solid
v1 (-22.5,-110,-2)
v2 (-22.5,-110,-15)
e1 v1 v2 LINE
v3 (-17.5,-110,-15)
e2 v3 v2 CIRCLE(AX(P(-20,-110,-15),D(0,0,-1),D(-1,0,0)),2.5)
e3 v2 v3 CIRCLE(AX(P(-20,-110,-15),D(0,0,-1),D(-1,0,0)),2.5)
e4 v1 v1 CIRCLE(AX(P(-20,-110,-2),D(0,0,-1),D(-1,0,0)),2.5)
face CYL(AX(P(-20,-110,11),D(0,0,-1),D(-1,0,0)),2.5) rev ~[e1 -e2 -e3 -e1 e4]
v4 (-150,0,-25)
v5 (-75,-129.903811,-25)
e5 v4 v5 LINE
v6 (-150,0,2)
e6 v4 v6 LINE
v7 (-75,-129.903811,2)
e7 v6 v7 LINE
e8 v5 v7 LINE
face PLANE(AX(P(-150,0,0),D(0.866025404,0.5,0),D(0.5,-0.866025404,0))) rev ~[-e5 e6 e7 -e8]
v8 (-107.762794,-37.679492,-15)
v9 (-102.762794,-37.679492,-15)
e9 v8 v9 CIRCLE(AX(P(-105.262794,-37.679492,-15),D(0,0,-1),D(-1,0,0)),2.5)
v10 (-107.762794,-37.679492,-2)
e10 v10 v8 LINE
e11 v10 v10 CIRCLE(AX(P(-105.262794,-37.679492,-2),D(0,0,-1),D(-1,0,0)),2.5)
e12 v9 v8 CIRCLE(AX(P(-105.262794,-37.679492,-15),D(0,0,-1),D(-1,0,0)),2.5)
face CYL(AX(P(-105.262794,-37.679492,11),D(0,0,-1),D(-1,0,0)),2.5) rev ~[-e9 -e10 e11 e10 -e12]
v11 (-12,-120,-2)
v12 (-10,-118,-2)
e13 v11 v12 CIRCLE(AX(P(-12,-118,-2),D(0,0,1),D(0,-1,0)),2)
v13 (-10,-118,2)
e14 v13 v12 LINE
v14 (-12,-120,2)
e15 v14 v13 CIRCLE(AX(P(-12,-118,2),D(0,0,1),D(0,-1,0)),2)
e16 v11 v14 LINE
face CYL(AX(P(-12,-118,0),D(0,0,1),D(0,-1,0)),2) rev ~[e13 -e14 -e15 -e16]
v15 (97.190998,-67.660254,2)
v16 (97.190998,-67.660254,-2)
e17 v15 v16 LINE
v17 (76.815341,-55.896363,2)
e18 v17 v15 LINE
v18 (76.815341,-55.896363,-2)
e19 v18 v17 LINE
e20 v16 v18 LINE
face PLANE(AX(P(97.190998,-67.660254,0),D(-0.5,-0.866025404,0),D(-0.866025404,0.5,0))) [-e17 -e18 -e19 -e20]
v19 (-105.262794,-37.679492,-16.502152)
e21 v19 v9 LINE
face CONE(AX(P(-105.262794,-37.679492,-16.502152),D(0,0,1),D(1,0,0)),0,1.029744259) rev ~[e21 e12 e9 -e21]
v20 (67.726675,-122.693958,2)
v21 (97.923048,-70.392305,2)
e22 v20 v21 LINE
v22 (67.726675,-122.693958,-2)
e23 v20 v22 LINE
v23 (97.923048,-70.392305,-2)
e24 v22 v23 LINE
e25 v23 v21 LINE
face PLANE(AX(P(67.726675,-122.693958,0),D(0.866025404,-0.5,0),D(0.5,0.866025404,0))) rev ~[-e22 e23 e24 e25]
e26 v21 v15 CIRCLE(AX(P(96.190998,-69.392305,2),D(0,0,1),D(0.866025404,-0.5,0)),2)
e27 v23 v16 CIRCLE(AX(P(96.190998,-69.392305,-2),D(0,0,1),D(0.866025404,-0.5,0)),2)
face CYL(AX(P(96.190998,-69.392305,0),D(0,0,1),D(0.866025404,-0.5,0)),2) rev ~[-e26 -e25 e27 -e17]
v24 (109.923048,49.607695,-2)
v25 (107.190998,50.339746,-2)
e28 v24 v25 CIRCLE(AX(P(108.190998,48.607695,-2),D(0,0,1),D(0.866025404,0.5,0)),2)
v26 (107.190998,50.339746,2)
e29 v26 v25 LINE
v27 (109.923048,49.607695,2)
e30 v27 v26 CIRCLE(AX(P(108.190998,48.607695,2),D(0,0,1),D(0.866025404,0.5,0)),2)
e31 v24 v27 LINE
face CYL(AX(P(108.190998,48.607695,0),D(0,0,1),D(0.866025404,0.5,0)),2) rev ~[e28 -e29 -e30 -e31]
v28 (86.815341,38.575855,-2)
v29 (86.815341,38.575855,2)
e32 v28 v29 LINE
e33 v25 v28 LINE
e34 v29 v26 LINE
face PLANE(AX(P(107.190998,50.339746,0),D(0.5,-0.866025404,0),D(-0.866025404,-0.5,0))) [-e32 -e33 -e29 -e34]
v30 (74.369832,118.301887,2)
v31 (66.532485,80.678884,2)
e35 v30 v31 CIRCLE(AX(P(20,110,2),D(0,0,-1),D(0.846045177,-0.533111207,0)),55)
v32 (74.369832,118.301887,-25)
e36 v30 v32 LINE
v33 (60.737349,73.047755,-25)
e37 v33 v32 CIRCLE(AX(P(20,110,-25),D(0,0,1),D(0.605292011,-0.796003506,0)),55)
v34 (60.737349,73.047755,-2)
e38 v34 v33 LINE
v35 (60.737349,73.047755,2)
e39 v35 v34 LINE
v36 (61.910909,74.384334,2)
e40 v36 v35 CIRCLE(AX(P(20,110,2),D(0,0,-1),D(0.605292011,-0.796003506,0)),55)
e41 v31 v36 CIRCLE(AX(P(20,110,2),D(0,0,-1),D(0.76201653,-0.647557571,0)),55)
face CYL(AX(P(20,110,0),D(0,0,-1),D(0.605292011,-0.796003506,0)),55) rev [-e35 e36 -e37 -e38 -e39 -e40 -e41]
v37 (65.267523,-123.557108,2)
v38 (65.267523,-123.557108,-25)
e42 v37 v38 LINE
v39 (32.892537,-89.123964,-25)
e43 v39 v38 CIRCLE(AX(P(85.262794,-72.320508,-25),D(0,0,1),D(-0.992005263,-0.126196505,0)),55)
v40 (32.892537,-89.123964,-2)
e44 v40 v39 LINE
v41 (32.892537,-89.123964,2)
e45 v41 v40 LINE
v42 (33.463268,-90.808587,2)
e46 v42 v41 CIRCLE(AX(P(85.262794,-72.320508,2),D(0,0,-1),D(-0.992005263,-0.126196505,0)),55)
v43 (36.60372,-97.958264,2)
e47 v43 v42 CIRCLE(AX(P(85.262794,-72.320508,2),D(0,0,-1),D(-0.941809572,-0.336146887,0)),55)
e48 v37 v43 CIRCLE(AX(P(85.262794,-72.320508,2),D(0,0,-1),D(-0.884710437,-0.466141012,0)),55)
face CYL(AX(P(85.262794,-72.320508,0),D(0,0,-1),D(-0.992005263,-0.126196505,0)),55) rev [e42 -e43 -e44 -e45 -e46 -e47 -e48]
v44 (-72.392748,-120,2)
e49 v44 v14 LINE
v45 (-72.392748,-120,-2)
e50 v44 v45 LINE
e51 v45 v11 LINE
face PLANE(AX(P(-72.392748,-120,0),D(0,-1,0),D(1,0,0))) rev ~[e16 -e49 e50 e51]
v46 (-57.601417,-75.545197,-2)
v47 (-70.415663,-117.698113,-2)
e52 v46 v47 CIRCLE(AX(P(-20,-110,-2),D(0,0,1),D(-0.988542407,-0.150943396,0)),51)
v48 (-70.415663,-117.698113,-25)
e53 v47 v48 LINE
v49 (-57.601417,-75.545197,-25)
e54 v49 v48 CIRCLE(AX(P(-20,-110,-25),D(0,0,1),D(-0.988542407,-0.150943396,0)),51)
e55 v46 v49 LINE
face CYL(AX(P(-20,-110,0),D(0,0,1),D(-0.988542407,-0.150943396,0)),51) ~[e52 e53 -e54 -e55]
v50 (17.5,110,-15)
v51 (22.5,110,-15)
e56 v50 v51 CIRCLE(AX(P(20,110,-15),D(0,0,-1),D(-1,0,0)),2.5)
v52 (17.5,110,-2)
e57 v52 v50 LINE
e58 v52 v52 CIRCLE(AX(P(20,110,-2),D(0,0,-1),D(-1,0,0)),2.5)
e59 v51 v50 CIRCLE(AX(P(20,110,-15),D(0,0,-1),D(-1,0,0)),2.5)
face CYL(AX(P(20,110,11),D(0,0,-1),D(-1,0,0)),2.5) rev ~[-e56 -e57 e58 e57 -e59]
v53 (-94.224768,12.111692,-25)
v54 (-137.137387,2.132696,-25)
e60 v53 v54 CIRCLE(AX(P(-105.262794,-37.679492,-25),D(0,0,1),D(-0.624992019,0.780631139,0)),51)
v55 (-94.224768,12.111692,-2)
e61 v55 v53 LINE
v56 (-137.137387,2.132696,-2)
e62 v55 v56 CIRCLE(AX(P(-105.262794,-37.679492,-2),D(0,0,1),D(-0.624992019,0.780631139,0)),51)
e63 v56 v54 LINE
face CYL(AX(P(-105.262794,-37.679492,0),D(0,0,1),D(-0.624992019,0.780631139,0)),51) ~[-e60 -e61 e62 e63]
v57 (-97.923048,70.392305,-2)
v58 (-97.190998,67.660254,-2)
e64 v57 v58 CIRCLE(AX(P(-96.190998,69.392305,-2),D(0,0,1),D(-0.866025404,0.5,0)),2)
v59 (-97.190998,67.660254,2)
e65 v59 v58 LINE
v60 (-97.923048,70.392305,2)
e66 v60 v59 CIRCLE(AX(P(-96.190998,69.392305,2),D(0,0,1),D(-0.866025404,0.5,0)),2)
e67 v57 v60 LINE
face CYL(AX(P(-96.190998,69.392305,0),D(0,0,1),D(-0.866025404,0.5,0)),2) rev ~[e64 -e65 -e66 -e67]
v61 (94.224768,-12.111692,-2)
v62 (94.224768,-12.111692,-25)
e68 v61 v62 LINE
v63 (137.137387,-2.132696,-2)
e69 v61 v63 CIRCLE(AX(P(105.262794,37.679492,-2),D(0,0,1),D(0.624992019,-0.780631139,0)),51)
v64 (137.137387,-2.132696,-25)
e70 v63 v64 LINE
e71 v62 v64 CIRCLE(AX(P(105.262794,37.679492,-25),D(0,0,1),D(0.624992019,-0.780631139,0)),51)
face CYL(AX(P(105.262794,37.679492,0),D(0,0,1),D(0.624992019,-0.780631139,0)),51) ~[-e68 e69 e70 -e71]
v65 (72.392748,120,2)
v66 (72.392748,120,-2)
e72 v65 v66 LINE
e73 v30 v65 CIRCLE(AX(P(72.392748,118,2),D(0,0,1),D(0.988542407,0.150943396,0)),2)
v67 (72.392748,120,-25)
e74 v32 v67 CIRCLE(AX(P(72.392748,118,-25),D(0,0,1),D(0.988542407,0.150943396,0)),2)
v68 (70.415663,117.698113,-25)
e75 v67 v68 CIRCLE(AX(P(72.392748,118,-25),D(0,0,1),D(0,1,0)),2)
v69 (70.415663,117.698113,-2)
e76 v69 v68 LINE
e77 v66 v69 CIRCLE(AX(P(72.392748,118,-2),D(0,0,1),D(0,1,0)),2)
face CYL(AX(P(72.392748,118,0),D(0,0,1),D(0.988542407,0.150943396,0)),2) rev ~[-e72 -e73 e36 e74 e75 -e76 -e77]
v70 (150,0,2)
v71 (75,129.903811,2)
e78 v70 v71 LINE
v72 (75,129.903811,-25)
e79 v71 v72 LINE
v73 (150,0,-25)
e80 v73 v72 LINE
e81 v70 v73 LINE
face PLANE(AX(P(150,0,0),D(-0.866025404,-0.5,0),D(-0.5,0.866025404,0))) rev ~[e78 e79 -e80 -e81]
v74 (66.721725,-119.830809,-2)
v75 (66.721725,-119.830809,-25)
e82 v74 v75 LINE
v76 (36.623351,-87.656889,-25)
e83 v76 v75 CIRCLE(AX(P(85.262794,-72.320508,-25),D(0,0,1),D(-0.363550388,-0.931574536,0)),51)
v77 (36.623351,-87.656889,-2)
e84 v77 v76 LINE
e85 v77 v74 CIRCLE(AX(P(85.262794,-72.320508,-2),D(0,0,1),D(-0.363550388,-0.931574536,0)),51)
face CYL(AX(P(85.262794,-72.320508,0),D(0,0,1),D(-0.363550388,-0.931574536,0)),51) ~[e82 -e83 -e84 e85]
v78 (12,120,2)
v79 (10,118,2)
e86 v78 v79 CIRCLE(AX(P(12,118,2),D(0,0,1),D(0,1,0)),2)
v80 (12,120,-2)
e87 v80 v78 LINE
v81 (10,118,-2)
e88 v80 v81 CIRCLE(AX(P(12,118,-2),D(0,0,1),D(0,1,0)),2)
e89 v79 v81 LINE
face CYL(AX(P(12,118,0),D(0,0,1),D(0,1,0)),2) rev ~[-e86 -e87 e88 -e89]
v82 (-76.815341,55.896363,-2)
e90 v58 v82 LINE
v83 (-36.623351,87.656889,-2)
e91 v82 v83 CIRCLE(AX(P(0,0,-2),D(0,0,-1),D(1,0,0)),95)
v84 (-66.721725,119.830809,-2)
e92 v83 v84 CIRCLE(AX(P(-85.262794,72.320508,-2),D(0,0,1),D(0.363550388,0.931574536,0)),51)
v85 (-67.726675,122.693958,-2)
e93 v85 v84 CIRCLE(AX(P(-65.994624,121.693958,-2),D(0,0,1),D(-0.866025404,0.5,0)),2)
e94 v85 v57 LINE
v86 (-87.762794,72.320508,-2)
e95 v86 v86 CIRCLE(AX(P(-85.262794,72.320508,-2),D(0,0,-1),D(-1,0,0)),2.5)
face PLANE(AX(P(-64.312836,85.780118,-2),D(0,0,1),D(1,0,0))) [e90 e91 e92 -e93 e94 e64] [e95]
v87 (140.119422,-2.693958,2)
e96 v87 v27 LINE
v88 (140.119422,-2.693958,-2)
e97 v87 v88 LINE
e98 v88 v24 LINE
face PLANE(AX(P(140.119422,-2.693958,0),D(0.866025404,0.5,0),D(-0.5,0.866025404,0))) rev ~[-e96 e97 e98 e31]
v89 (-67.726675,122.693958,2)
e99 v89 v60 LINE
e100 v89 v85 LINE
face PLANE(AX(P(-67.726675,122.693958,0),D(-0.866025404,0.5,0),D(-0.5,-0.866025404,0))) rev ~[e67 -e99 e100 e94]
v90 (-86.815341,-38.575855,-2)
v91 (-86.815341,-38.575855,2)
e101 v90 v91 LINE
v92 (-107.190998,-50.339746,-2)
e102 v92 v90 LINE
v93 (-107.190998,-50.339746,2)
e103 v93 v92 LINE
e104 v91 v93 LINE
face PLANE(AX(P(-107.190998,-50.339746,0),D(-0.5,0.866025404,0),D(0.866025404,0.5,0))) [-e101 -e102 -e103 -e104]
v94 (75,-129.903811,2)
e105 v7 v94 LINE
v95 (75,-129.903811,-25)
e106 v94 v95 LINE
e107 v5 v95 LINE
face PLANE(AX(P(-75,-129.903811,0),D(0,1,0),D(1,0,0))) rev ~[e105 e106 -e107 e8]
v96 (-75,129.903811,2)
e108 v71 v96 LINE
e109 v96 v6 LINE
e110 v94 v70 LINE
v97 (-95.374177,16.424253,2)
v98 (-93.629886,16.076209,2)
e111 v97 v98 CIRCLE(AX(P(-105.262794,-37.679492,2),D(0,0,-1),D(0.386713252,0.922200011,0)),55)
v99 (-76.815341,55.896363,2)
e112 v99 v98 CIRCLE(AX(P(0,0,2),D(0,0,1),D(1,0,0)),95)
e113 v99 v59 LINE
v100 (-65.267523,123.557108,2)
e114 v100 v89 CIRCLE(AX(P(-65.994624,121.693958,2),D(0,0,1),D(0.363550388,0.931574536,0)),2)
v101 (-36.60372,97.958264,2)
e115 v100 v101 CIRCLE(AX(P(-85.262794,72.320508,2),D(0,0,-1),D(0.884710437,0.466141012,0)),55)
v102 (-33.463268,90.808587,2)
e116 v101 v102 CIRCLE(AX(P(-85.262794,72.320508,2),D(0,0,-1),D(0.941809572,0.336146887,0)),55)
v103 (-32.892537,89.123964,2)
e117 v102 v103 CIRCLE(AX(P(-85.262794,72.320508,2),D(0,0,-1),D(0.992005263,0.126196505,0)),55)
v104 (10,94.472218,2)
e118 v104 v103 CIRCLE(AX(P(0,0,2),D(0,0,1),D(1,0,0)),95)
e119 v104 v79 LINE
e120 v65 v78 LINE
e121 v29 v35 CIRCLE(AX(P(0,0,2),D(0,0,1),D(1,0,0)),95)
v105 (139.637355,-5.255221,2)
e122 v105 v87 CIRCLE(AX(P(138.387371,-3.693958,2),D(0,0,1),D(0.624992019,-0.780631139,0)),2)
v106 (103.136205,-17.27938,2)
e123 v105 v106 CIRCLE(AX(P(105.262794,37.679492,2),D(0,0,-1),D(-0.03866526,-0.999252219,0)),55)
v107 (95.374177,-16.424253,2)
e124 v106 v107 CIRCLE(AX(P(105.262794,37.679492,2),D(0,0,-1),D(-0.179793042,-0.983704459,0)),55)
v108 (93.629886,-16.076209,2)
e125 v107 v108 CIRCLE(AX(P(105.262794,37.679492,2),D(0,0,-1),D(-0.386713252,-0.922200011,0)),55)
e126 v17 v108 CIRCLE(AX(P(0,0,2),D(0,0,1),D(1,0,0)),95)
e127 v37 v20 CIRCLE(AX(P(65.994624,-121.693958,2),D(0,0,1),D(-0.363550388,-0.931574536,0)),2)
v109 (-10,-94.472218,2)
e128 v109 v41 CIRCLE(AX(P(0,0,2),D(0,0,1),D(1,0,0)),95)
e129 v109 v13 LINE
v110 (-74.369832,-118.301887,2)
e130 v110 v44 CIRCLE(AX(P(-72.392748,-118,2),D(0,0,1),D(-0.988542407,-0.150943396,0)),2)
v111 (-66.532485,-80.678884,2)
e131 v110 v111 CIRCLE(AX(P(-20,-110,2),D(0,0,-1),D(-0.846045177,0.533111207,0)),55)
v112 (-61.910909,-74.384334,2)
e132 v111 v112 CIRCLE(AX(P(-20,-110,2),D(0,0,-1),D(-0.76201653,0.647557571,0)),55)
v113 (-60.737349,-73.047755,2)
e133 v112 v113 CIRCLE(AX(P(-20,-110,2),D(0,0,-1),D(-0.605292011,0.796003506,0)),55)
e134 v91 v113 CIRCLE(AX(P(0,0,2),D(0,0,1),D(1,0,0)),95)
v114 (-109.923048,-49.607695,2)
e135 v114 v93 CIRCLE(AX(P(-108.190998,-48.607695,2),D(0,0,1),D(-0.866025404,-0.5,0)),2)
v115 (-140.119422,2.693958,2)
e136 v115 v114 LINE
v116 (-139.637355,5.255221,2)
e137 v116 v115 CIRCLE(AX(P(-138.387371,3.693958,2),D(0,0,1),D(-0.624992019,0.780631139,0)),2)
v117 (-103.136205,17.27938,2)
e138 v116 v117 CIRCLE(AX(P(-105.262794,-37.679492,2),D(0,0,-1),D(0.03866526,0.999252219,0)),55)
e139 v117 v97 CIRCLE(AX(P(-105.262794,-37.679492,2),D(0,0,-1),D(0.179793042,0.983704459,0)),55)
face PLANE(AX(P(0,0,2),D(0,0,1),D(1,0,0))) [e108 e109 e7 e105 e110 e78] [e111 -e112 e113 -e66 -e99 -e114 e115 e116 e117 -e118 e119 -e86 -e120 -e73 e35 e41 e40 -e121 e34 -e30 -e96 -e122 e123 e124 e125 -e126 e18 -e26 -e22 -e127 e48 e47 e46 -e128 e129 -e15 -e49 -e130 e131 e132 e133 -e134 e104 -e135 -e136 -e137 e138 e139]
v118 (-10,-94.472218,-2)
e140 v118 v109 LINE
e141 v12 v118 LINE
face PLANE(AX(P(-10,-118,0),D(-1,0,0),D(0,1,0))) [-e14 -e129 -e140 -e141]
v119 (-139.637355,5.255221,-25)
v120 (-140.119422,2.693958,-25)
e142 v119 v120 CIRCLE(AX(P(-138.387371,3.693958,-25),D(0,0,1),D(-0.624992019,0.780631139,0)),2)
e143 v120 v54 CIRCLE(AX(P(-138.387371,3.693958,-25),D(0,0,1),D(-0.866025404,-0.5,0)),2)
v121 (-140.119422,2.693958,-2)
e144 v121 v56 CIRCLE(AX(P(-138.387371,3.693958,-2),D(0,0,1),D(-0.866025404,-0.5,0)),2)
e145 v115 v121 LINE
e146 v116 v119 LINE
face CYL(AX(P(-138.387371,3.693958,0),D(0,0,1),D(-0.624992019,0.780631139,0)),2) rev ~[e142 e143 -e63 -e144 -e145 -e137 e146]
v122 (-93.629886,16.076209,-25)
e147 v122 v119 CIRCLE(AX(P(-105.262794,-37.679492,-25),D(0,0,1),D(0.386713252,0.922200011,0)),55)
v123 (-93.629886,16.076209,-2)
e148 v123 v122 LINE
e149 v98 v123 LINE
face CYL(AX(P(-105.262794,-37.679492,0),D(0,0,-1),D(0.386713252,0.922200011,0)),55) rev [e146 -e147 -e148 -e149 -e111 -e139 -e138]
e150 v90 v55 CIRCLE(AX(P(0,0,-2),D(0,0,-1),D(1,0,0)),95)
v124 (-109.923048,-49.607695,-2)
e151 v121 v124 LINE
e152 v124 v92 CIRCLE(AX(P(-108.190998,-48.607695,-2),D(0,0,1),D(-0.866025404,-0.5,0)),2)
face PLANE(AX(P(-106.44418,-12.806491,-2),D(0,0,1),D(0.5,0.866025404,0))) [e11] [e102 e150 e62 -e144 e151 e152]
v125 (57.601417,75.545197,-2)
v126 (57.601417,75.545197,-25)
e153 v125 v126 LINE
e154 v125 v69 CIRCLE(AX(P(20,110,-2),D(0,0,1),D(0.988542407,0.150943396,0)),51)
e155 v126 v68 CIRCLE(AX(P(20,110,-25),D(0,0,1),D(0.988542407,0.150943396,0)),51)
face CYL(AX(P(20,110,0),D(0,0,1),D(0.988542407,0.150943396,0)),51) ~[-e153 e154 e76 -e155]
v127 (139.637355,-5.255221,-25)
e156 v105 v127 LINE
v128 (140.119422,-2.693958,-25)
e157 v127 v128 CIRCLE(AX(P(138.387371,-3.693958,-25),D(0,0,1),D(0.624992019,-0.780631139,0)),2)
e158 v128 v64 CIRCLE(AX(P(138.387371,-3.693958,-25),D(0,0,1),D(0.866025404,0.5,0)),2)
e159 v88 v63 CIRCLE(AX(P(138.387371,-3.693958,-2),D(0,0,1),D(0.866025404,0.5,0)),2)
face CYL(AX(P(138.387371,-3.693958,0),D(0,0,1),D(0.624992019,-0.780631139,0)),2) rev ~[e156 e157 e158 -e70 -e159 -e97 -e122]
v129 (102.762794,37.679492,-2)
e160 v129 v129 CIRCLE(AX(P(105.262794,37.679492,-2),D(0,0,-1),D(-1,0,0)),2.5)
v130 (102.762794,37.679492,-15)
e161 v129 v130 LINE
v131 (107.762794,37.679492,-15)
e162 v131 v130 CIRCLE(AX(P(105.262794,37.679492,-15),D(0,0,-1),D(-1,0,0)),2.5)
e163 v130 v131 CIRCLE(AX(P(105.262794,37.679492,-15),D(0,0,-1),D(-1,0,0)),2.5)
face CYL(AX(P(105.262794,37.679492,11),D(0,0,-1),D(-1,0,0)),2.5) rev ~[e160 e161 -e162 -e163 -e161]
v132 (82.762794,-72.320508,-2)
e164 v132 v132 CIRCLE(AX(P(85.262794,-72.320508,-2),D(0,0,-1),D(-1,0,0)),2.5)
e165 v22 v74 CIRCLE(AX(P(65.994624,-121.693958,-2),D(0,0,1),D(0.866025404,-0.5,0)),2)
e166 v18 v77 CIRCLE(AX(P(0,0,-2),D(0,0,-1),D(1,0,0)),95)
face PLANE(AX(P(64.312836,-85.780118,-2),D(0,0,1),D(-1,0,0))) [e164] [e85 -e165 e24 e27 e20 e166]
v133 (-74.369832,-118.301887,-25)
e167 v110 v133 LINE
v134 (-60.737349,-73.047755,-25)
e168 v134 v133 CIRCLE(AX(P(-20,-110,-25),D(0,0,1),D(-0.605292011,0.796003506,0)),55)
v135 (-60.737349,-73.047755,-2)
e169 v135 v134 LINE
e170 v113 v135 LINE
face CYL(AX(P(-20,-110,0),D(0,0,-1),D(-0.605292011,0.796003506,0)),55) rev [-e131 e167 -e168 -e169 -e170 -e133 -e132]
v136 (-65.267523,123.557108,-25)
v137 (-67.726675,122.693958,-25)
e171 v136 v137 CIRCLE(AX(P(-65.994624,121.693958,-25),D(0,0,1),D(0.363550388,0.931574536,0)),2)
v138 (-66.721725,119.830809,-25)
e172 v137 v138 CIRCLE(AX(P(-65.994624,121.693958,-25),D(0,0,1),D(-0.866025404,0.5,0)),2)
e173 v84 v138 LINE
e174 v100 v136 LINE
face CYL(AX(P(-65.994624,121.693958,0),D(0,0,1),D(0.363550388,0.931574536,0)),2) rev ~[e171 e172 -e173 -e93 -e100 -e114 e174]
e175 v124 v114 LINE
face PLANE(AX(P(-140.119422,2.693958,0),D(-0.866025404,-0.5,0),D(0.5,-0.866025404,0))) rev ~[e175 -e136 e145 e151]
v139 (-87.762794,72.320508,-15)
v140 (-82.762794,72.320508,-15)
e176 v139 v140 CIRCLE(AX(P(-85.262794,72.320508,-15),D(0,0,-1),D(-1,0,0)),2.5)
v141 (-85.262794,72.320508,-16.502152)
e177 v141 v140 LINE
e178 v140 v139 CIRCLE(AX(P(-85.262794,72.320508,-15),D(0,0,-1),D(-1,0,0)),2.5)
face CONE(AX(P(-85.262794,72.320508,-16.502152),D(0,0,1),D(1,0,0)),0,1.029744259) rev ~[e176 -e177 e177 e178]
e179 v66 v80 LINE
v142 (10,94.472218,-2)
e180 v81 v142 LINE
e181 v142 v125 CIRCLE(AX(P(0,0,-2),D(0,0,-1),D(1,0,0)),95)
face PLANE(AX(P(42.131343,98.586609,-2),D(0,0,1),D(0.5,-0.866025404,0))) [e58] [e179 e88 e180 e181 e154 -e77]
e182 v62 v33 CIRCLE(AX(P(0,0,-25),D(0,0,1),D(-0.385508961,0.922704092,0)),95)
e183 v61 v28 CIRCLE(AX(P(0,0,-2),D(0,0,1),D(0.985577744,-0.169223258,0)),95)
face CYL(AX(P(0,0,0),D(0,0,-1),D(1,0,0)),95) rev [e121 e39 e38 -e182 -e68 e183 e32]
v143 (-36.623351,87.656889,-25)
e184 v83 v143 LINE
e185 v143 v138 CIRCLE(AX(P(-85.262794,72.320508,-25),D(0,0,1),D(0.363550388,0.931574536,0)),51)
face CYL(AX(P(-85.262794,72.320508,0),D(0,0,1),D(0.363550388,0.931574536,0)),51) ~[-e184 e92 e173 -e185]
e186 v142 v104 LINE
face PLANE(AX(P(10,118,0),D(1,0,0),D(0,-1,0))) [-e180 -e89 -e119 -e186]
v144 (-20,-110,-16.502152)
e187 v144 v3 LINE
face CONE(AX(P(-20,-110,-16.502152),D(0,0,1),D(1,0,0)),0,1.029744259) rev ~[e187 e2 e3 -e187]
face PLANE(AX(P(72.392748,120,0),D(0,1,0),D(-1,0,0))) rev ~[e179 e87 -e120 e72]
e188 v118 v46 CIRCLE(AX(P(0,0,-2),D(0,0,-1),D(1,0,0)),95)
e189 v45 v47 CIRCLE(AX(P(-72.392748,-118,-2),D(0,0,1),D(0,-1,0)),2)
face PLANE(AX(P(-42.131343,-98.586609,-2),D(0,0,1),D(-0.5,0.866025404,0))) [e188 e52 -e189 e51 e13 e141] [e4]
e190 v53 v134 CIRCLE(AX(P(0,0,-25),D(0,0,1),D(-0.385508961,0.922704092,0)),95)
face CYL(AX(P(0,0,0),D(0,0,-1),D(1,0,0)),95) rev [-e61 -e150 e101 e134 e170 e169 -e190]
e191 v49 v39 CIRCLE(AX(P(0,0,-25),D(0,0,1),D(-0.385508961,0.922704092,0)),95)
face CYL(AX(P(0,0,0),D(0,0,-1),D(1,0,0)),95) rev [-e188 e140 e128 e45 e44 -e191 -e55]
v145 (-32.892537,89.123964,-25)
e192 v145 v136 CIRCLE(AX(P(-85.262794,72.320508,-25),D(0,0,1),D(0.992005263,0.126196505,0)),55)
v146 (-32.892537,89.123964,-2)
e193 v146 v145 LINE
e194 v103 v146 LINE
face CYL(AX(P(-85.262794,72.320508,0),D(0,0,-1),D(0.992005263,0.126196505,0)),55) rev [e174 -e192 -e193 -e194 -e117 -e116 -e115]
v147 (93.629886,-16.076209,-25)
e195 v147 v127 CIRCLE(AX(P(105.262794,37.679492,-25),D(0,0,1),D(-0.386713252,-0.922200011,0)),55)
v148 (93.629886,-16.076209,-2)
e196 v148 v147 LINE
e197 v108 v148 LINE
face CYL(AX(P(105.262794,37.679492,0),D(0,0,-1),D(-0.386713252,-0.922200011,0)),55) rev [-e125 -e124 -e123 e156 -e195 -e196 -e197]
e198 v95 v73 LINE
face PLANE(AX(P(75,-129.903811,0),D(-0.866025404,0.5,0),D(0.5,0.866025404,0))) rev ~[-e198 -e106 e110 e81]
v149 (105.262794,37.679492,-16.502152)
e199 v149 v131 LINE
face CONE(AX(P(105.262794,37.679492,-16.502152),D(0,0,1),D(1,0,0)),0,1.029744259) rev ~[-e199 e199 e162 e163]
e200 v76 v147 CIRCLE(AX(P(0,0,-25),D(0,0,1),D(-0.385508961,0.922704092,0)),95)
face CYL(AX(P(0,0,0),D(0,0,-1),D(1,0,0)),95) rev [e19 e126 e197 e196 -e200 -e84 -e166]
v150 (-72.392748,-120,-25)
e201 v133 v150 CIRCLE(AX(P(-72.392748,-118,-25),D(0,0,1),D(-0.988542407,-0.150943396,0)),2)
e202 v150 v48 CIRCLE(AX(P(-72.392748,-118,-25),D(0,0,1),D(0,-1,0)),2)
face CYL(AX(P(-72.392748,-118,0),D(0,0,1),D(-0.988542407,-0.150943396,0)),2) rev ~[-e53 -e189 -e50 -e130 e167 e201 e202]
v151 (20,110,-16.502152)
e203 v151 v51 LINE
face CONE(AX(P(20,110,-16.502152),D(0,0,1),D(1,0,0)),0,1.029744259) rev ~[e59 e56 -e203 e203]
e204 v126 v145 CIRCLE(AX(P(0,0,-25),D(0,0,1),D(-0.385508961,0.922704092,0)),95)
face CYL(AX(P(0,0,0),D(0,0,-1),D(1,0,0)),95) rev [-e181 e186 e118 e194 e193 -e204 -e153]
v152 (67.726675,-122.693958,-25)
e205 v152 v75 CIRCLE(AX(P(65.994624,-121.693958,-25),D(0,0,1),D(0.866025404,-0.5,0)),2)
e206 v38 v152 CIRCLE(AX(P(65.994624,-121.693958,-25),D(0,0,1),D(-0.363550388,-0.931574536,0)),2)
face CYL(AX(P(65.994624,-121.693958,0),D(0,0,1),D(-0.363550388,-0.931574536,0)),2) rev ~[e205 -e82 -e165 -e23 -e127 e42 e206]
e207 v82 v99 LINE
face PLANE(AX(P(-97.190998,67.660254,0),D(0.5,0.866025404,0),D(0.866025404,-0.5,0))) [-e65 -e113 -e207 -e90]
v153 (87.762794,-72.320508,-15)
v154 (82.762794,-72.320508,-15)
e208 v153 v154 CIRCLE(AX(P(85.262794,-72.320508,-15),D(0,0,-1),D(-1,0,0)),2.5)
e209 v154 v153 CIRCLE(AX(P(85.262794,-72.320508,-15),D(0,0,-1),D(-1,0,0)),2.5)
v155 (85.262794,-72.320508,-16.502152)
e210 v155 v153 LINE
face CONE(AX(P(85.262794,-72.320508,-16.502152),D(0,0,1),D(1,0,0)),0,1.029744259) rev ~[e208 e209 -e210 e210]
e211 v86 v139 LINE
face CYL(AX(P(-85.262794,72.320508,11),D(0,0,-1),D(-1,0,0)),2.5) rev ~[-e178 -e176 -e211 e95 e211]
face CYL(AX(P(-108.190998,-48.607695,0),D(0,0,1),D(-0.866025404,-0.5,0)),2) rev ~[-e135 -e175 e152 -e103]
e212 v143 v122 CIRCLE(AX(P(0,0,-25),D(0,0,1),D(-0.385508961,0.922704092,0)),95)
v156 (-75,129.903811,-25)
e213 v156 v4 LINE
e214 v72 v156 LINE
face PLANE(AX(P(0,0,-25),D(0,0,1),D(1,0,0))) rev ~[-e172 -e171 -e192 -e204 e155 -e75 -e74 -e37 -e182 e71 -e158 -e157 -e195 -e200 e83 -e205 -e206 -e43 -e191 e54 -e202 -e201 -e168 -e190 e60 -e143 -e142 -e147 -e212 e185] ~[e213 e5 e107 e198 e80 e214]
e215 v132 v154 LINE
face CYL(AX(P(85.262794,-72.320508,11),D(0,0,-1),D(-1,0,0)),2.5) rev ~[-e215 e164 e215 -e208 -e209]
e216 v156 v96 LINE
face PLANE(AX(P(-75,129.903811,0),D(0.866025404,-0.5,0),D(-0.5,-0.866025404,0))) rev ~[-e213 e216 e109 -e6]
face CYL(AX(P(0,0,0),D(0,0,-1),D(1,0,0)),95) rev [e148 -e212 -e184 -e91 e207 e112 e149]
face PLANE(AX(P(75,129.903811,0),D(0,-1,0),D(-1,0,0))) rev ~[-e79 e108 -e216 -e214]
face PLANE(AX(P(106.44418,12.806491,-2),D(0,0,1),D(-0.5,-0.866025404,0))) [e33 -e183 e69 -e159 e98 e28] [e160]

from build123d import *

# Parameters (mm, degrees)
F0_R          = 95
F1_DEPTH      = 25
F1_DEPTH_BACK = 2
F4_DEPTH      = 25
F4_DEPTH_BACK = 2
F5_COUNT      = 6
F8_DEPTH      = 10
F8_DEPTH_BACK = 35
F9_COUNT      = 6
F11_D         = 5
F11_DEPTH     = 13
F11_START     = 2
F11_TIP       = 1.5021515476


with BuildPart() as f1:
    # F0 (on Top) → F1 (new body, two sides)
    with BuildSketch(Plane.XY) as f1_sk:
        Polygon((75, 129.9038105677), (-75, 129.9038105677), (-150, 0), (-75, -129.9038105677), (75, -129.9038105677), (150, 0), align=None)
        Circle(F0_R, mode=Mode.SUBTRACT)
    extrude(amount=-F1_DEPTH)
    extrude(f1_sk.sketch, amount=F1_DEPTH_BACK)


with BuildPart() as f4:
    # F2 (on Top) → F4 (new body, two sides)
    with BuildSketch(Plane.XY) as f4_sk:
        with BuildLine():
            Line((-67.7266746593, 122.6939584625), (-97.9230484541, 70.3923048454))
            ThreePointArc((-97.9230484541, 70.3923048454), (-98.1228492991, 68.8746667552), (-97.1909976466, 67.6602540378))
            Line((-97.1909976466, 67.6602540378), (-68.1009575861, 50.8651115782))
            ThreePointArc((-68.1009575861, 50.8651115782), (-51.4015287339, 67.6969928713), (-30.7025049427, 79.2613158498))
            ThreePointArc((-30.7025049427, 79.2613158498), (-31.770388613, 85.1096644737), (-33.4632679534, 90.8085868892))
            ThreePointArc((-33.4632679534, 90.8085868892), (-34.9064435535, 94.4392315422), (-36.6037204033, 97.9582637535))
            ThreePointArc((-36.6037204033, 97.9582637535), (-48.6270197595, 113.3426973797), (-65.2675230757, 123.5571075336))
            ThreePointArc((-65.2675230757, 123.5571075336), (-66.656996648, 123.5810891624), (-67.7266746593, 122.6939584625))
        make_face()
    extrude(amount=F4_DEPTH)
    extrude(f4_sk.sketch, amount=-F4_DEPTH_BACK)


with BuildPart() as f5_1:
    # F5: instance of F4
    add(f4.part.rotate(Axis((0, 0, -0.1854561269), (0, 0, 1)), 1 * 360 / F5_COUNT))


with BuildPart() as f5_2:
    # F5: instance of F4
    add(f4.part.rotate(Axis((0, 0, -0.1854561269), (0, 0, 1)), 2 * 360 / F5_COUNT))


with BuildPart() as f5_3:
    # F5: instance of F4
    add(f4.part.rotate(Axis((0, 0, -0.1854561269), (0, 0, 1)), 3 * 360 / F5_COUNT))


with BuildPart() as f5_4:
    # F5: instance of F4
    add(f4.part.rotate(Axis((0, 0, -0.1854561269), (0, 0, 1)), 4 * 360 / F5_COUNT))


with BuildPart() as f5_5:
    # F5: instance of F4
    add(f4.part.rotate(Axis((0, 0, -0.1854561269), (0, 0, 1)), 5 * 360 / F5_COUNT))


with BuildPart() as f1_1:
    add(f1.part)

    # F6: cut F5_1, F4, F5_5, F5_4, F5_3, F5_2
    add(f5_1.part, mode=Mode.SUBTRACT)
    add(f4.part, mode=Mode.SUBTRACT)
    add(f5_5.part, mode=Mode.SUBTRACT)
    add(f5_4.part, mode=Mode.SUBTRACT)
    add(f5_3.part, mode=Mode.SUBTRACT)
    add(f5_2.part, mode=Mode.SUBTRACT)


with BuildPart() as f8:
    # F7 (on face) → F8 (new body, two sides)
    with BuildSketch(Plane.XY) as f8_sk:
        with BuildLine():
            ThreePointArc((-66.7217246277, 119.8308093913), (-44.7195832857, 103.2599332678), (-34.5435296861, 77.6643068393))
            ThreePointArc((-34.5435296861, 77.6643068393), (-32.6327882373, 78.4863117484), (-30.7025049427, 79.2613158498))
            ThreePointArc((-30.7025049427, 79.2613158498), (-41.9019572207, 106.1559598637), (-65.2675230757, 123.5571075336))
            ThreePointArc((-65.2675230757, 123.5571075336), (-66.656996648, 123.5810891624), (-67.7266746593, 122.6939584625))
            ThreePointArc((-67.7266746593, 122.6939584625), (-67.8817545517, 121.0315856662), (-66.7217246277, 119.8308093913))
        make_face()
    extrude(amount=F8_DEPTH)
    extrude(f8_sk.sketch, amount=-F8_DEPTH_BACK)


with BuildPart() as f9_1:
    # F9: instance of F8
    add(f8.part.rotate(Axis((0, 0, -0.1854561269), (0, 0, 1)), 1 * 360 / F9_COUNT))


with BuildPart() as f9_2:
    # F9: instance of F8
    add(f8.part.rotate(Axis((0, 0, -0.1854561269), (0, 0, 1)), 2 * 360 / F9_COUNT))


with BuildPart() as f9_3:
    # F9: instance of F8
    add(f8.part.rotate(Axis((0, 0, -0.1854561269), (0, 0, 1)), 3 * 360 / F9_COUNT))


with BuildPart() as f9_4:
    # F9: instance of F8
    add(f8.part.rotate(Axis((0, 0, -0.1854561269), (0, 0, 1)), 4 * 360 / F9_COUNT))


with BuildPart() as f9_5:
    # F9: instance of F8
    add(f8.part.rotate(Axis((0, 0, -0.1854561269), (0, 0, 1)), 5 * 360 / F9_COUNT))


with BuildPart() as f1_2:
    add(f1_1.part)

    # F10: cut F8, F9_5, F9_4, F9_3, F9_2, F9_1
    add(f8.part, mode=Mode.SUBTRACT)
    add(f9_5.part, mode=Mode.SUBTRACT)
    add(f9_4.part, mode=Mode.SUBTRACT)
    add(f9_3.part, mode=Mode.SUBTRACT)
    add(f9_2.part, mode=Mode.SUBTRACT)
    add(f9_1.part, mode=Mode.SUBTRACT)

    # F11
    # its depths count from where the whole tool has entered the part; down to there all is cleared
    with Locations(Plane.XY.offset(-F11_START)):
        with Locations((20, 110), (105.2627944163, 37.6794919243), (85.2627944163, -72.3205080757), (-20, -110), (-105.2627944163, -37.6794919243), (-85.2627944163, 72.3205080757)):
            Hole(F11_D / 2, depth=F11_DEPTH)
            with Locations((0, 0, -(F11_DEPTH + F11_TIP / 2))):  # 118° drill point
                Cone(0, F11_D / 2, F11_TIP, mode=Mode.SUBTRACT)


solid = f1_2.part
